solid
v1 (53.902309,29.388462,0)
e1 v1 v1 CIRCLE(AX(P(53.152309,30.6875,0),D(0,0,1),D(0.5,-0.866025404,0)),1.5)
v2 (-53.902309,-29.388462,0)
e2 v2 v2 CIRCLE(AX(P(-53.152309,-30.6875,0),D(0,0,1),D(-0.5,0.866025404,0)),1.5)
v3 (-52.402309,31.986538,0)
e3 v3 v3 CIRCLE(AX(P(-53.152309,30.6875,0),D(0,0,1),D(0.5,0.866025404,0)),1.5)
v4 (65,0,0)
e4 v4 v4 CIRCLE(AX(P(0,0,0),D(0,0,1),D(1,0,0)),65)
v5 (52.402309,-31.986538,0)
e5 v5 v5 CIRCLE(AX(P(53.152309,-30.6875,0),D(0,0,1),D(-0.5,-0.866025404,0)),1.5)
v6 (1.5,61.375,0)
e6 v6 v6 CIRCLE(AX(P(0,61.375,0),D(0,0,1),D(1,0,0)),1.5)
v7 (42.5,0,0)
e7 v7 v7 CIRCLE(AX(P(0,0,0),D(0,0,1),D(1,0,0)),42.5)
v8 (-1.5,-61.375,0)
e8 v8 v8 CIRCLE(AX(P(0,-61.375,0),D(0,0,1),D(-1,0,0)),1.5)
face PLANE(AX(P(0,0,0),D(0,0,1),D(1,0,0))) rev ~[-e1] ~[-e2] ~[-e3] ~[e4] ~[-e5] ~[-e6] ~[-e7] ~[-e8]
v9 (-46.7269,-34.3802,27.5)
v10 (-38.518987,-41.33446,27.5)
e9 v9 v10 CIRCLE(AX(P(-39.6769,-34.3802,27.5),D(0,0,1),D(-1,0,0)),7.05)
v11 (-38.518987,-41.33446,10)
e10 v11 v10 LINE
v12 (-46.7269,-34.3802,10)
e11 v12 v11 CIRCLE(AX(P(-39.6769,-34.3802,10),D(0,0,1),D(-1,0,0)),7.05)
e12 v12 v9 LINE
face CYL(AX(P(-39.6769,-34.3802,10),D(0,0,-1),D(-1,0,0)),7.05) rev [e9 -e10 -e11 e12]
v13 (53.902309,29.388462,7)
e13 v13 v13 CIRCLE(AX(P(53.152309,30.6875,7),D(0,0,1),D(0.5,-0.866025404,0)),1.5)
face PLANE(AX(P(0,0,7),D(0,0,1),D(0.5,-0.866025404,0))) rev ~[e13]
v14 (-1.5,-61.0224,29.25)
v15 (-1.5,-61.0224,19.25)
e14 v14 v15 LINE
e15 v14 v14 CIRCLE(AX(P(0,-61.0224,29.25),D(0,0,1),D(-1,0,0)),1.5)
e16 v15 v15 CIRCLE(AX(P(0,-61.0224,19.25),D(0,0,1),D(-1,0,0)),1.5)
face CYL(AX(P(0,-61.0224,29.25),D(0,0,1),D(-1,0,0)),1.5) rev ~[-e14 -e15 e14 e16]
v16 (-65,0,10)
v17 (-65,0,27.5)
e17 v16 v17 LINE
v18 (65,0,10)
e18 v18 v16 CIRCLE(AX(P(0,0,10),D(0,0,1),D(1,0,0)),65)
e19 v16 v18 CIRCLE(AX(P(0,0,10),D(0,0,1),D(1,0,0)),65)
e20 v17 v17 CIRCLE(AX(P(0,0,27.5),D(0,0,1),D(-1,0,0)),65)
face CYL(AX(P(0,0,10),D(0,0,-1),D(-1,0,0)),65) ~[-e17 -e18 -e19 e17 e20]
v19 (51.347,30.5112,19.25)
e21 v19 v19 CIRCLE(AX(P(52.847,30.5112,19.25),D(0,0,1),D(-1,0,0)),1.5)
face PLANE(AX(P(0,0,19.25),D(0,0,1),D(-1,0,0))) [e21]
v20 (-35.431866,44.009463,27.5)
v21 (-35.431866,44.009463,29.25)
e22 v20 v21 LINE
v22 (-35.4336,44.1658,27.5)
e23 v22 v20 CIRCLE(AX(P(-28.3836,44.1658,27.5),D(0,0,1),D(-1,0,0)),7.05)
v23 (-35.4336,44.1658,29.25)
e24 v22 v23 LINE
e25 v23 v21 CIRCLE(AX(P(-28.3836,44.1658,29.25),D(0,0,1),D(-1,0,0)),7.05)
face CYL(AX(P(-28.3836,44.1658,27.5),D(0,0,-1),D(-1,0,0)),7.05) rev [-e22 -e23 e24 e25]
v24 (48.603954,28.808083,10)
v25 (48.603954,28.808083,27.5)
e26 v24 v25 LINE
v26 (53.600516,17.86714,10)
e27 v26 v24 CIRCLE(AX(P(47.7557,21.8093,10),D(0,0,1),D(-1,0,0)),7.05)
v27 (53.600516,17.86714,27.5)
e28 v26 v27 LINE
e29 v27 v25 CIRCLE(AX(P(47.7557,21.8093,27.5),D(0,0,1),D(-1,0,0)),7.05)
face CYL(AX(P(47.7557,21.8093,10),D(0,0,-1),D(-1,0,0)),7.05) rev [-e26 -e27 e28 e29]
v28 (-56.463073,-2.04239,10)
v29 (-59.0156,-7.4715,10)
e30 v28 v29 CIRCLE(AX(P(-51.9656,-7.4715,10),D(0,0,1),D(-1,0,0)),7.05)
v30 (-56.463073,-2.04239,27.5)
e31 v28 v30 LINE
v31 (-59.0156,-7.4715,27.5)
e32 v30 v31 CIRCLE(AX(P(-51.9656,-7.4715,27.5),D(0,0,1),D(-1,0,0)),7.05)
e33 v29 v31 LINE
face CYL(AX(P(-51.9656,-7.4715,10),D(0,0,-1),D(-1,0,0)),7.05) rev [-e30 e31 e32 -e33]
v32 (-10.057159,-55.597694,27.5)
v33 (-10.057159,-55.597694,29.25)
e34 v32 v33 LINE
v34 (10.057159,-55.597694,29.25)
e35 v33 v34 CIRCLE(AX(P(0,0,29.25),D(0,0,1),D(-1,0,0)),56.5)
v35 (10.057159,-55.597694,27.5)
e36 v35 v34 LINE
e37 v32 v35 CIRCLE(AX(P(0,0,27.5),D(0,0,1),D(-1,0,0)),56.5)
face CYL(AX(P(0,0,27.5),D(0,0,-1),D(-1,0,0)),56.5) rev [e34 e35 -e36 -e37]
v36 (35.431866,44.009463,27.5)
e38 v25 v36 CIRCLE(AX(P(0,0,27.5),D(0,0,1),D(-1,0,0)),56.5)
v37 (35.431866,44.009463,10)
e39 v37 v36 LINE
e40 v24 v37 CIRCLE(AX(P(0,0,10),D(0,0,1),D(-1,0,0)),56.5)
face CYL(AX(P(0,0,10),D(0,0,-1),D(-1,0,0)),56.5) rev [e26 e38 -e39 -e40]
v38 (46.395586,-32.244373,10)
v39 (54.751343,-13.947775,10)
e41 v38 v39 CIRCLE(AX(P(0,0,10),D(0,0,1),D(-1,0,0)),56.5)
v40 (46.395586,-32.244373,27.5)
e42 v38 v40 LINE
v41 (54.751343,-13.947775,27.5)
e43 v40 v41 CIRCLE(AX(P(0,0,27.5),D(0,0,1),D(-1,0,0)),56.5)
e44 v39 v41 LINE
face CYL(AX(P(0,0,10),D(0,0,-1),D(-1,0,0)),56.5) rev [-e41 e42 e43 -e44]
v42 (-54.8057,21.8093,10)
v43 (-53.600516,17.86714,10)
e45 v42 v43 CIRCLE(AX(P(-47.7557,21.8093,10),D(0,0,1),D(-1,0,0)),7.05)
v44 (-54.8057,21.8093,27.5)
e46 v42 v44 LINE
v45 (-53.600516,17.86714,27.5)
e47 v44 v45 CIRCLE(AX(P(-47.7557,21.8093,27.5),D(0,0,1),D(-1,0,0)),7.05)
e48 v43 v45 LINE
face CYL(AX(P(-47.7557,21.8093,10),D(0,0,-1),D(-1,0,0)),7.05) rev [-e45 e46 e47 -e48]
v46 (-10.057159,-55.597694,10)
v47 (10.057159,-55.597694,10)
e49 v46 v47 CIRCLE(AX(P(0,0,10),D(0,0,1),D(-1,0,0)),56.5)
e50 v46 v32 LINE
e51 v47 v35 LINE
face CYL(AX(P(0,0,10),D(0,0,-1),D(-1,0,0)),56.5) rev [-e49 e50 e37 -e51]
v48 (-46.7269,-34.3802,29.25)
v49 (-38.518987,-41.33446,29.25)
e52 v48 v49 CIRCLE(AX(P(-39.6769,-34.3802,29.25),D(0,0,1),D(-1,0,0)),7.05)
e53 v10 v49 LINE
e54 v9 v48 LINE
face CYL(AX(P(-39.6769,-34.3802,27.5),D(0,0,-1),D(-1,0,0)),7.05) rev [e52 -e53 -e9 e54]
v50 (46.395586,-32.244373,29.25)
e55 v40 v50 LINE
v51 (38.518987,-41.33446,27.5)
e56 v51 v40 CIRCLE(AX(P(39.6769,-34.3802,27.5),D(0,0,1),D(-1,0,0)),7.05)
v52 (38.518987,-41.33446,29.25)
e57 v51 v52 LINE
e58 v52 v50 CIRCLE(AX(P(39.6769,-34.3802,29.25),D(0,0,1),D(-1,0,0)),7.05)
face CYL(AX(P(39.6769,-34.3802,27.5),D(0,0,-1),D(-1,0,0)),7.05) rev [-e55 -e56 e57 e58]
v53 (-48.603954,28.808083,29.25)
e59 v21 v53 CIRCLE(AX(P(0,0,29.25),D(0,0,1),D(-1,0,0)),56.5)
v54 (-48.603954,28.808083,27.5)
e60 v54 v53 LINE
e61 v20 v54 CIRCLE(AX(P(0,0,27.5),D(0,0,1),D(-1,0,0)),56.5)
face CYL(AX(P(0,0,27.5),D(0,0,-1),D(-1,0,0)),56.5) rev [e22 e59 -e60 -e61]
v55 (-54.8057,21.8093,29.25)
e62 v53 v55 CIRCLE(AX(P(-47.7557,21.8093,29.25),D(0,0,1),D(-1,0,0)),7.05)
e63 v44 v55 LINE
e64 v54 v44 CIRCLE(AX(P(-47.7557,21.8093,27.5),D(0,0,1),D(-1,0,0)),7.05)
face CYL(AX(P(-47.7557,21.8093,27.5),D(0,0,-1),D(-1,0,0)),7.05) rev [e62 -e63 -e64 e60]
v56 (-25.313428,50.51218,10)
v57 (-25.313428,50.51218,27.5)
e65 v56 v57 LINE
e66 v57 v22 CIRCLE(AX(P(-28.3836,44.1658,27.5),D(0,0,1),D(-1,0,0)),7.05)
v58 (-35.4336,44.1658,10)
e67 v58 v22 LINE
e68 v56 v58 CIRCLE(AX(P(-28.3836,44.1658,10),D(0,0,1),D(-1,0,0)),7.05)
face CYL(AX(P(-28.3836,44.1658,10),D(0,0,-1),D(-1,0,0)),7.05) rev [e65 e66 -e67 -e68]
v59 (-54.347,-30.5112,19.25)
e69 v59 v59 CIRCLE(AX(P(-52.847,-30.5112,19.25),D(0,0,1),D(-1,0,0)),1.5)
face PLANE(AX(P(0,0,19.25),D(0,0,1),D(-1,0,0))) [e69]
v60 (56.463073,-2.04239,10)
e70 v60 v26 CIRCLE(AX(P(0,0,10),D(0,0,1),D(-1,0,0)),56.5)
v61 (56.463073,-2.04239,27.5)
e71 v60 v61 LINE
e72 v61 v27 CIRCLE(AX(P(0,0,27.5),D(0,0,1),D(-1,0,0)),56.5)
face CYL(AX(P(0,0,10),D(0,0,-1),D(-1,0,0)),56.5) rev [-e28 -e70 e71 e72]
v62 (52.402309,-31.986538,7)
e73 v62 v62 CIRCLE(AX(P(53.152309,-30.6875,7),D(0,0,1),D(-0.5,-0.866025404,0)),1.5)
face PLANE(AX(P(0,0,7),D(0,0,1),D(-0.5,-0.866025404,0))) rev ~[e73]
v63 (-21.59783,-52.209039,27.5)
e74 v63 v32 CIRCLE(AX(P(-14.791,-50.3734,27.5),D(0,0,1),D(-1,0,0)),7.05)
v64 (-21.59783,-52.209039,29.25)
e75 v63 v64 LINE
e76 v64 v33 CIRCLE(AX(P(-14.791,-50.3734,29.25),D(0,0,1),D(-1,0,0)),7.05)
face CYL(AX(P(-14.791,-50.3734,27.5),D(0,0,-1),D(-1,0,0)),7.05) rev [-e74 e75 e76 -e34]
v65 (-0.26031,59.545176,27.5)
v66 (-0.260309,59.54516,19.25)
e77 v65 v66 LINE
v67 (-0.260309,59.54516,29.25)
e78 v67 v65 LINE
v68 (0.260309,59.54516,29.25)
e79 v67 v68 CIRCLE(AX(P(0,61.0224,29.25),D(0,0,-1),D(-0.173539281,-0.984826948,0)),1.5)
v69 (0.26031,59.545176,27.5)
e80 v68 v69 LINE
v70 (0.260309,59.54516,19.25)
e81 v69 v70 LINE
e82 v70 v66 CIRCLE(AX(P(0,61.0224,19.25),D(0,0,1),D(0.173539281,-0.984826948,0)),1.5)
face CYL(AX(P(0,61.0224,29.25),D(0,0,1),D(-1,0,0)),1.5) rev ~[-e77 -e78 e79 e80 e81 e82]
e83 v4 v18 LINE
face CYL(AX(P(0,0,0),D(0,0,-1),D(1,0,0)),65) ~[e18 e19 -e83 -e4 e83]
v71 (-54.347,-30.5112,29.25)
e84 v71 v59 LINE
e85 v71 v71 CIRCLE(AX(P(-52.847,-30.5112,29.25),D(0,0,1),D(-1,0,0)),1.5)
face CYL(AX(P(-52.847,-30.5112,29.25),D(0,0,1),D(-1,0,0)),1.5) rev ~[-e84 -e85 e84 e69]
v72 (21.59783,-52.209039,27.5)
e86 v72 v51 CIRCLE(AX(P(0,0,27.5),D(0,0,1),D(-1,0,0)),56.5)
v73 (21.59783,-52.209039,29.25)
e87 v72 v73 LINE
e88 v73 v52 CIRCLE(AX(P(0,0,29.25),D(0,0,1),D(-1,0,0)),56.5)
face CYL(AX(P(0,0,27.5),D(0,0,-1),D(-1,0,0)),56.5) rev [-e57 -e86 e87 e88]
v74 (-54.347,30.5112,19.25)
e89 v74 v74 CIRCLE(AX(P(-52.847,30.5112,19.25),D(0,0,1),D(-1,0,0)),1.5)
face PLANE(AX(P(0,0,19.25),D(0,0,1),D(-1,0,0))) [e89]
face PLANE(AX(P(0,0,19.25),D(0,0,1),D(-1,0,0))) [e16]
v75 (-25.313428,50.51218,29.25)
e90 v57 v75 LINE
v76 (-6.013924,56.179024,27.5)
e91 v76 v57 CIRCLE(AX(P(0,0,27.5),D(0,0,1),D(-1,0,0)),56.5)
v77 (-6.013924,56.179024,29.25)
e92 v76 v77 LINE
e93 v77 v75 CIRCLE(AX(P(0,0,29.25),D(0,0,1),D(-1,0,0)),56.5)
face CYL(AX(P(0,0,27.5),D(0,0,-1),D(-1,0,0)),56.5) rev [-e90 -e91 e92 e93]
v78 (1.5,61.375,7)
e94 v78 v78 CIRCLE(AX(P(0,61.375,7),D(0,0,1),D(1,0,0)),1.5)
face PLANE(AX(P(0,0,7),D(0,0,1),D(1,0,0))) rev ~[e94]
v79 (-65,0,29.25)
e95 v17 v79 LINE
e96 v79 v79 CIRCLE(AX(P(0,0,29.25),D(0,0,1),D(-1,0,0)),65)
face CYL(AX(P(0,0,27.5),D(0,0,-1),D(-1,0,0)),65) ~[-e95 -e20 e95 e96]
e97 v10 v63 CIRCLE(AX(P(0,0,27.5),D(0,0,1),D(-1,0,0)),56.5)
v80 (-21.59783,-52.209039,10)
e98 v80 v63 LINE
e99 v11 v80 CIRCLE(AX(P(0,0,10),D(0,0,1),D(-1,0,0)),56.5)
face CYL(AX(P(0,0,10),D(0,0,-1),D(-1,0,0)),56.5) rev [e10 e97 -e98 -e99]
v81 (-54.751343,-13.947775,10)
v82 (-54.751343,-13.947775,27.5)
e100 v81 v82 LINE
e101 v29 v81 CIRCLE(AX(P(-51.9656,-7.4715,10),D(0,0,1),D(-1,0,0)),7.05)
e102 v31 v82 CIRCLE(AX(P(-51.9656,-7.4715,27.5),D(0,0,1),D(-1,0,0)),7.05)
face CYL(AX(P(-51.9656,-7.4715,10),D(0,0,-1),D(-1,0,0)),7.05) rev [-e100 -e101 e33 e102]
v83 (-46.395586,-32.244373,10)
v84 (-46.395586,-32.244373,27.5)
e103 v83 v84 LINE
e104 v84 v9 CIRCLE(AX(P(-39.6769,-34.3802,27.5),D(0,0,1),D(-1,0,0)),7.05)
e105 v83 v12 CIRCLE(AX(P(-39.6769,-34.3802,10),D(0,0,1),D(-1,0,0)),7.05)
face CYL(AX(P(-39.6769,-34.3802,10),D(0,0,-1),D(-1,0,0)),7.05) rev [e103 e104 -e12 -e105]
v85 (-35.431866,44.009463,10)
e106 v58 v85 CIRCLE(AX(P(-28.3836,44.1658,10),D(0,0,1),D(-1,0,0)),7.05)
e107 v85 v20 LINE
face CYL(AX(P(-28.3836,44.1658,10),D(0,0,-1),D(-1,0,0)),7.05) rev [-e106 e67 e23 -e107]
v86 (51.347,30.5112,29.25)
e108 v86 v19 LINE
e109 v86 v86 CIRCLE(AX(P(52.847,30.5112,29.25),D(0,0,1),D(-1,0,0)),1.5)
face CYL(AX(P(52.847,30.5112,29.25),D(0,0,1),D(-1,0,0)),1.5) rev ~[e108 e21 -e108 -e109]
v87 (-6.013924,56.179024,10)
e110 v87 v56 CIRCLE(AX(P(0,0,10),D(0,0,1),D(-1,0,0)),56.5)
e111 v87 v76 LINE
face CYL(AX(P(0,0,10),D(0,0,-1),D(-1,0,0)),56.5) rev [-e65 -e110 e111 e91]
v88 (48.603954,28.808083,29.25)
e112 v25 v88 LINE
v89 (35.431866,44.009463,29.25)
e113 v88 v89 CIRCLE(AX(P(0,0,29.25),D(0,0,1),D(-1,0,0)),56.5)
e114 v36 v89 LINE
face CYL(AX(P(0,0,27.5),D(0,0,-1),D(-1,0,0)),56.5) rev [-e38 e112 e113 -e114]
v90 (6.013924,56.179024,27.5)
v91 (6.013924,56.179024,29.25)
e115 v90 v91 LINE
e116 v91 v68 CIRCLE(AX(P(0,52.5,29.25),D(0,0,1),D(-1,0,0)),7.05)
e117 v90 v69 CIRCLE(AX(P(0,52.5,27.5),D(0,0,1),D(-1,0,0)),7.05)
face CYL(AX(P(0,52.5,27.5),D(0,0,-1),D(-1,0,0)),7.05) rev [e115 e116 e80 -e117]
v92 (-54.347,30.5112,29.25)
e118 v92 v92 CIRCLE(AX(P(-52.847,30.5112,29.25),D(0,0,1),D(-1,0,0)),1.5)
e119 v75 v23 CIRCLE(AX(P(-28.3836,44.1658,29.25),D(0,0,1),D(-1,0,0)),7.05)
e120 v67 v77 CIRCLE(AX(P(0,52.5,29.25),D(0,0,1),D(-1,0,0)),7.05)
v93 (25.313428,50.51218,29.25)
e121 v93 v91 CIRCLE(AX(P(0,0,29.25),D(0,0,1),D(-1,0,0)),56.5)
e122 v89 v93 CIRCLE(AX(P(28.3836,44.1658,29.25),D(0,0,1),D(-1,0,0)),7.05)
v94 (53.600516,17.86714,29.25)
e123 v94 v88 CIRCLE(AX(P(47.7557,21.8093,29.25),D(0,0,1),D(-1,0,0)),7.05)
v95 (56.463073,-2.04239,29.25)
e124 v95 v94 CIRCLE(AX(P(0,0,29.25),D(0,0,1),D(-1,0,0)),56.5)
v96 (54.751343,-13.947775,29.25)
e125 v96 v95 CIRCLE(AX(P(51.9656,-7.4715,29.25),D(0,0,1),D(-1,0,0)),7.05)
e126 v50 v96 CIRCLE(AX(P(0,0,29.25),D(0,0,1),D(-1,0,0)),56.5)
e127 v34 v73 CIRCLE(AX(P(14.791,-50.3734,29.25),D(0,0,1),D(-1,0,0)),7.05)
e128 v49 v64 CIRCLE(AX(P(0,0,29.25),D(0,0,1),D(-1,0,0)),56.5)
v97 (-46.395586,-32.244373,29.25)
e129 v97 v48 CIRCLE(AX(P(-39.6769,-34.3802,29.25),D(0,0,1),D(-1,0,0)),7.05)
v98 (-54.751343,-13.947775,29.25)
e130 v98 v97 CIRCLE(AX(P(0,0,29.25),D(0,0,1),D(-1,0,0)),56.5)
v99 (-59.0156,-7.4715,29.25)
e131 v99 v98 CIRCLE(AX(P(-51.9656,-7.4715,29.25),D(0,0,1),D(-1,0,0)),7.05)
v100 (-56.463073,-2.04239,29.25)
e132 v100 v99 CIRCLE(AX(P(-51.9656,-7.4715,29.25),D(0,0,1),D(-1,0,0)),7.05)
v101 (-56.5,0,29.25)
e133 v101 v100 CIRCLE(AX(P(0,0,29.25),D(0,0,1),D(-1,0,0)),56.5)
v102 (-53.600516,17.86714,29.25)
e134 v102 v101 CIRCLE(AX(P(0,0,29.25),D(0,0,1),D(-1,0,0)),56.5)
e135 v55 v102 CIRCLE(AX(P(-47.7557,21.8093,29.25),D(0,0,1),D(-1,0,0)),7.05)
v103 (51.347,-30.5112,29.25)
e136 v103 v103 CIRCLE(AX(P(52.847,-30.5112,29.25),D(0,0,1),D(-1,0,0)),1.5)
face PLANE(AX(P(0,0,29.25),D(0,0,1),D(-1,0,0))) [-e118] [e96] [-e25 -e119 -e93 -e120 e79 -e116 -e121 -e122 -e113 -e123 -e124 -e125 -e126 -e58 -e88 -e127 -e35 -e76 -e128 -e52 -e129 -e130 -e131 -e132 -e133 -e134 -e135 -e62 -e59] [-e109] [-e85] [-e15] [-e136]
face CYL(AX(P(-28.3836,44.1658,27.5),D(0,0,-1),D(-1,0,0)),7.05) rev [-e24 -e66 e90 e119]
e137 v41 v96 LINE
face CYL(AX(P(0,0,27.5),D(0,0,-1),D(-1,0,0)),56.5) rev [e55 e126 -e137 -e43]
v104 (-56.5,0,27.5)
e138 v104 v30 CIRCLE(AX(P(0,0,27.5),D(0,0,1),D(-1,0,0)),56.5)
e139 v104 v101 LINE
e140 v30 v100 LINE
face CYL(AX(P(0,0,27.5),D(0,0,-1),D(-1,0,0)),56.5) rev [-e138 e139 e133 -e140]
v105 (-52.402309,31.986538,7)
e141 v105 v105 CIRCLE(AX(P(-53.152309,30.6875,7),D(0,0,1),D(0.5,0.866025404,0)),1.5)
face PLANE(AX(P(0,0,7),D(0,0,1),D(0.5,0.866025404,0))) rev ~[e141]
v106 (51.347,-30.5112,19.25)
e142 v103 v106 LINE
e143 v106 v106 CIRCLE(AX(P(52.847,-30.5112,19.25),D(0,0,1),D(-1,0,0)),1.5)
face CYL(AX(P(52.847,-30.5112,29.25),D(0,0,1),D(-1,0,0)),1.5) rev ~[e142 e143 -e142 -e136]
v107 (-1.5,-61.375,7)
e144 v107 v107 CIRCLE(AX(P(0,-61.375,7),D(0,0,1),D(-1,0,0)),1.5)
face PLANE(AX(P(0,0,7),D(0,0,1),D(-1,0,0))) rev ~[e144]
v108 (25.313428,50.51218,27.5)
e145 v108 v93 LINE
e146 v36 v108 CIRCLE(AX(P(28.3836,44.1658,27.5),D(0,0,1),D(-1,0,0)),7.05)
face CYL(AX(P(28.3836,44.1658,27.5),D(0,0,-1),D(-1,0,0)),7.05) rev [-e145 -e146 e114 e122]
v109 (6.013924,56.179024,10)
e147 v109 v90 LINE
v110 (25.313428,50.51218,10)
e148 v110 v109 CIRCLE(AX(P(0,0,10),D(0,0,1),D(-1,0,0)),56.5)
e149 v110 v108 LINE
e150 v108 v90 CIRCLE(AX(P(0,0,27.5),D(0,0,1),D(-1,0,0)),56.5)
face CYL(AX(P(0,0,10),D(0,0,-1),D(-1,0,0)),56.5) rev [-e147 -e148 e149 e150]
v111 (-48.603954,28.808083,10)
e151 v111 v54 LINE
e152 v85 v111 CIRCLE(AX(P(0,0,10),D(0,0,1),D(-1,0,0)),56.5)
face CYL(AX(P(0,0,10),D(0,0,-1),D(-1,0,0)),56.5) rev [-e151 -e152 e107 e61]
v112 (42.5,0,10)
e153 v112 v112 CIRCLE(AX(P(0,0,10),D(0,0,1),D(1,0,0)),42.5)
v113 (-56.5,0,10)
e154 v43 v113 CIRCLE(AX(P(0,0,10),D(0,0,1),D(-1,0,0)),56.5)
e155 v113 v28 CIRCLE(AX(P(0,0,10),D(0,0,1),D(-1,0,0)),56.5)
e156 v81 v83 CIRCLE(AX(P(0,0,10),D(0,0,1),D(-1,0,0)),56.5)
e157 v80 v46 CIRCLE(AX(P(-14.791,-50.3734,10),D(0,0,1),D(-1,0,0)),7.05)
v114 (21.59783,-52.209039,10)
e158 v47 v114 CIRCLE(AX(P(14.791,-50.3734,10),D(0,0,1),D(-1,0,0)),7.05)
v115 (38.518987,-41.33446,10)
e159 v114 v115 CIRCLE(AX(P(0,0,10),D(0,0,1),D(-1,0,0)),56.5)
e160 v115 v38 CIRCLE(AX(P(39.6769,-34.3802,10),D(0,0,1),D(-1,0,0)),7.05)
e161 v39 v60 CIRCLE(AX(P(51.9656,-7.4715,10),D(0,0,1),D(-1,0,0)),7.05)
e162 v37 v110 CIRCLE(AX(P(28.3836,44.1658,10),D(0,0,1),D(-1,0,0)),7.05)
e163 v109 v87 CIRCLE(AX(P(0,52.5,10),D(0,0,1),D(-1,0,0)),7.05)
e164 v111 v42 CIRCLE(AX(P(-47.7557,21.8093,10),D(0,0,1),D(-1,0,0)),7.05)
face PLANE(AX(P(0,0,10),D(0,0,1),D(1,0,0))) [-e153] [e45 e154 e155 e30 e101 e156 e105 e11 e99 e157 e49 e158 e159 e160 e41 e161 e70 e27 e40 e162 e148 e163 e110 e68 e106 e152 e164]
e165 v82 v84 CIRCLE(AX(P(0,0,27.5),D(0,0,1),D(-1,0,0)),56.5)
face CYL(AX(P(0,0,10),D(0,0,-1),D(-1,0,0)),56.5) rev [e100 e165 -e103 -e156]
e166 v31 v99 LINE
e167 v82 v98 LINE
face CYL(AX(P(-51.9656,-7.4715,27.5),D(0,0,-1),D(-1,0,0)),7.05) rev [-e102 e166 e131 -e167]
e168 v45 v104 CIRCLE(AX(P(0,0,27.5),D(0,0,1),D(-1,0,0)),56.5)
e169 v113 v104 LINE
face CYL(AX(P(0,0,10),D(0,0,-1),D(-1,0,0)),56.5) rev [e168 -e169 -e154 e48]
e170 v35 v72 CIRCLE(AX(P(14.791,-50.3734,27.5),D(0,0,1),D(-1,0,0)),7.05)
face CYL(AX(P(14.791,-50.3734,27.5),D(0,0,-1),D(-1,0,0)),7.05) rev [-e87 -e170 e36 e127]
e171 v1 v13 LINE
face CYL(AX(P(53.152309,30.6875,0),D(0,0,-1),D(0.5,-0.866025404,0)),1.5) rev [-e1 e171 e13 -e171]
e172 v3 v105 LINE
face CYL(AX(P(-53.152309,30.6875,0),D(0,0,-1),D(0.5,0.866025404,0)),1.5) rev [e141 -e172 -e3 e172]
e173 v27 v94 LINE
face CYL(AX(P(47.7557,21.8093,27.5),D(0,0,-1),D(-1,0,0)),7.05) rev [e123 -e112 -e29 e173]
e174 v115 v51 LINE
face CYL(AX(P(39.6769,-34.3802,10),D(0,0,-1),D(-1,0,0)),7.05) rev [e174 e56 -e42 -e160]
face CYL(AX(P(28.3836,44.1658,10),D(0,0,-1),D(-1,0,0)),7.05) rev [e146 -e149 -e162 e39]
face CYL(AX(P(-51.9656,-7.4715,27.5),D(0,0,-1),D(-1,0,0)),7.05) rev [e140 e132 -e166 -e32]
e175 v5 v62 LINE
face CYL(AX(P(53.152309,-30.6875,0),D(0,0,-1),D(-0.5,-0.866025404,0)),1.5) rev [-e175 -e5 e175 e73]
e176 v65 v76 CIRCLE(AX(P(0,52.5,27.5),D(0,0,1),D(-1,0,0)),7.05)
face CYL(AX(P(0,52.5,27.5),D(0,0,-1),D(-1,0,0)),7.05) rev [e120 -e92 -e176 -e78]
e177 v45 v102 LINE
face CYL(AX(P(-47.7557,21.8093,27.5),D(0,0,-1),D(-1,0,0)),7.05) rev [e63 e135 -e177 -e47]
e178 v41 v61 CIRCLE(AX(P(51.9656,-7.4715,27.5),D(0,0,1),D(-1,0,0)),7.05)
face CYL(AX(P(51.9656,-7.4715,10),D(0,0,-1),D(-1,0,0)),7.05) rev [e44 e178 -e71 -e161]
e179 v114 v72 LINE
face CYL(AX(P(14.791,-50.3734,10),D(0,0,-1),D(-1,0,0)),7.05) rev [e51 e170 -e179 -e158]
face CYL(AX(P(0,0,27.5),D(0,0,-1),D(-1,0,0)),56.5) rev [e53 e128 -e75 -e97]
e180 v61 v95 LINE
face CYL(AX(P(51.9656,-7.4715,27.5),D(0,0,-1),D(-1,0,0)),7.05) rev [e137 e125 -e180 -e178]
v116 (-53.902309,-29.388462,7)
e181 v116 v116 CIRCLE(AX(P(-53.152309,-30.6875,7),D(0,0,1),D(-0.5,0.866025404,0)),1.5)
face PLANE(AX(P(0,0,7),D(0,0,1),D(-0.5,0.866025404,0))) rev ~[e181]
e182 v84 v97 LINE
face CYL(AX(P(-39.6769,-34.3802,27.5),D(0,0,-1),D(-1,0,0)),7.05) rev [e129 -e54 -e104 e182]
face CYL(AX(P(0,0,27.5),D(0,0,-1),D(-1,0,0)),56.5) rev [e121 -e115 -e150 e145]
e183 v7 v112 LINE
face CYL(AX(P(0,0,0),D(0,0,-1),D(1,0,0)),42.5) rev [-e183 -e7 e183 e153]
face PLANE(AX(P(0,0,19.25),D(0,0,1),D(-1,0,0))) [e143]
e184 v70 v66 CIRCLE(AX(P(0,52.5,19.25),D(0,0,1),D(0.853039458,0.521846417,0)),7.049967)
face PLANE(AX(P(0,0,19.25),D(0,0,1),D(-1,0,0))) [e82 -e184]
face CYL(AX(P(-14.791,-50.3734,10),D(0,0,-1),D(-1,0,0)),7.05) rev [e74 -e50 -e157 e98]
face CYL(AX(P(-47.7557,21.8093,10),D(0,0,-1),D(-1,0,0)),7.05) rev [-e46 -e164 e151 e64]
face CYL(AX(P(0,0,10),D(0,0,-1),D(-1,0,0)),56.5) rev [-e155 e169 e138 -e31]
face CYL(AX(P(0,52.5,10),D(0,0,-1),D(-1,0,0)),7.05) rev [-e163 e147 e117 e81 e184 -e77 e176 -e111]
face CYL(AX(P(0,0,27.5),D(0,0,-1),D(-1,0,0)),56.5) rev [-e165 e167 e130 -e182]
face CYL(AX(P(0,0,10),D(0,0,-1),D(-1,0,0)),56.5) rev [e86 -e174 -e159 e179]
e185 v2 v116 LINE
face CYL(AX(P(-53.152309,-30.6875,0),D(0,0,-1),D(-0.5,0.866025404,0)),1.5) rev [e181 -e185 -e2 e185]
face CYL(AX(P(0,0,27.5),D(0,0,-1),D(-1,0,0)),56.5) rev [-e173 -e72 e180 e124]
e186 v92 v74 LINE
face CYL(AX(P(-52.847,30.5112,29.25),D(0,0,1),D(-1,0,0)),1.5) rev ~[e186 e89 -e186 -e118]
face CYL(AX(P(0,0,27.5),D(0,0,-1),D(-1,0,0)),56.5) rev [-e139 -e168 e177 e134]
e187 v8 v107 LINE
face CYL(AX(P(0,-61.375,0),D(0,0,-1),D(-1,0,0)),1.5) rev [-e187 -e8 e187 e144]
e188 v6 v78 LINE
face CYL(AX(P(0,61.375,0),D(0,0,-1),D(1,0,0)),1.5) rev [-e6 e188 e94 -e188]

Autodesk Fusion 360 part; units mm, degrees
sketch "Sketch1" plane through (0, 0, 0) normal (0, 0, 1) x (1, 0, 0)
  circle A0 centre (0, 0) radius 65
  circle A1 centre (0, 0) radius 61.375 construction
  circle A2 centre (0, 61.375) radius 1.5
  circle A3 centre (0, 0) radius 42.5
  dimension "d1" = 130
  dimension "d2" = 122.75
  dimension "d3" = 3
  dimension "LargeBearingDia" = 85
extrude "Extrude1" add sketch "Sketch1" along normal blind 10 contours A0 | A2
extrude "Extrude2" cut sketch "Sketch1" along normal blind 7 contours A2
pattern_circular "C-Pattern1" count 6 over 360 about axis through (0, 0, 1.75) along (0, 0, 1) of "Extrude2"
sketch "Sketch2" plane through (0, 0, 10) normal (0, 0, 1) x (-1, 0, 0)
  circle A0 centre (0, 0) radius 42.5
  circle A1 centre (0, 0) radius 65
  circle A2 centre (0, 0) radius 52.5 construction
  circle A3 centre (0, -52.5) radius 7.05
  circle A4 centre (28.3836, -44.1658) radius 7.05
  circle A5 centre (47.7557, -21.8093) radius 7.05
  circle A6 centre (51.9656, 7.4715) radius 7.05
  circle A7 centre (39.6769, 34.3802) radius 7.05
  circle A8 centre (14.791, 50.3734) radius 7.05
  circle A9 centre (-14.791, 50.3734) radius 7.05
  circle A10 centre (-39.6769, 34.3802) radius 7.05
  circle A11 centre (-51.9656, 7.4715) radius 7.05
  circle A12 centre (-47.7557, -21.8093) radius 7.05
  circle A13 centre (-28.3836, -44.1658) radius 7.05
  circle A14 centre (0, 0) radius 56.5
  dimension "d11" = 105
  dimension "d12" = 14.1
  dimension "d14" = 360
  dimension "d15" = 113
extrude "Extrude3" add sketch "Sketch2" along normal blind 17.5 contours A1
extrude "Extrude4" add 1 faces at (57.7924, -22.5756, 27.5) along direction (0, 0, 1) blind 1.75
sketch "Sketch3" plane through (0, 0, 29.25) normal (0, 0, 1) x (-1, 0, 0)
  arc A0 (53.6005, -17.8672) -> (56.4631, 2.0424) centre (0, 0) ccw
  arc A1 (48.604, -28.8081) -> (53.6005, -17.8672) centre (47.7557, -21.8093) ccw
  arc A2 (35.4319, -44.0094) -> (48.604, -28.8081) centre (0, 0) ccw
  arc A3 (25.3134, -50.5122) -> (35.4319, -44.0094) centre (28.3836, -44.1658) ccw
  arc A4 (6.0139, -56.179) -> (25.3134, -50.5122) centre (0, 0) ccw
  arc A5 (-6.0139, -56.179) -> (6.0139, -56.179) centre (0, -52.5) ccw
  arc A6 (-25.3134, -50.5122) -> (-6.0139, -56.179) centre (0, 0) ccw
  arc A7 (-35.4319, -44.0094) -> (-25.3134, -50.5122) centre (-28.3836, -44.1658) ccw
  arc A8 (-48.604, -28.8081) -> (-35.4319, -44.0094) centre (0, 0) ccw
  arc A9 (-53.6005, -17.8672) -> (-48.604, -28.8081) centre (-47.7557, -21.8093) ccw
  arc A10 (-56.4631, 2.0424) -> (-53.6005, -17.8672) centre (0, 0) ccw
  arc A11 (-54.7513, 13.9478) -> (-56.4631, 2.0424) centre (-51.9656, 7.4715) ccw
  arc A12 (-46.3956, 32.2444) -> (-54.7513, 13.9478) centre (0, 0) ccw
  arc A13 (-38.519, 41.3345) -> (-46.3956, 32.2444) centre (-39.6769, 34.3802) ccw
  arc A14 (-21.5978, 52.2091) -> (-38.519, 41.3345) centre (0, 0) ccw
  arc A15 (-10.0571, 55.5977) -> (-21.5978, 52.2091) centre (-14.791, 50.3734) ccw
  arc A16 (10.0571, 55.5977) -> (-10.0571, 55.5977) centre (0, 0) ccw
  arc A17 (21.5978, 52.2091) -> (10.0571, 55.5977) centre (14.791, 50.3734) ccw
  arc A18 (38.519, 41.3345) -> (21.5978, 52.2091) centre (0, 0) ccw
  arc A19 (46.3956, 32.2444) -> (38.519, 41.3345) centre (39.6769, 34.3802) ccw
  arc A20 (54.7513, 13.9478) -> (46.3956, 32.2444) centre (0, 0) ccw
  arc A21 (56.4631, 2.0424) -> (54.7513, 13.9478) centre (51.9656, 7.4715) ccw
  circle A22 centre (0, 0) radius 65
  circle A23 centre (0, 0) radius 61.0224 construction
  circle A24 centre (0, -61.0224) radius 1.5
  circle A25 centre (52.847, -30.5112) radius 1.5
  circle A26 centre (52.847, 30.5112) radius 1.5
  circle A27 centre (0, 61.0224) radius 1.5
  circle A28 centre (-52.847, 30.5112) radius 1.5
  circle A29 centre (-52.847, -30.5112) radius 1.5
  dimension "d20" = 3
  dimension "d22" = 360
  dimension "d25" = 122.0449
extrude "Extrude5" cut sketch "Sketch3" against normal blind 10 contours A5 A24 | A25 | A26 | A27 | A28 | A29 picked at (0.0626, -61.5282)
equation "d3 = ScrewDia_3mm"
equation "d20 = ScrewDia_3mm"
equation "ScrewDia_3mm = 3 mm"
